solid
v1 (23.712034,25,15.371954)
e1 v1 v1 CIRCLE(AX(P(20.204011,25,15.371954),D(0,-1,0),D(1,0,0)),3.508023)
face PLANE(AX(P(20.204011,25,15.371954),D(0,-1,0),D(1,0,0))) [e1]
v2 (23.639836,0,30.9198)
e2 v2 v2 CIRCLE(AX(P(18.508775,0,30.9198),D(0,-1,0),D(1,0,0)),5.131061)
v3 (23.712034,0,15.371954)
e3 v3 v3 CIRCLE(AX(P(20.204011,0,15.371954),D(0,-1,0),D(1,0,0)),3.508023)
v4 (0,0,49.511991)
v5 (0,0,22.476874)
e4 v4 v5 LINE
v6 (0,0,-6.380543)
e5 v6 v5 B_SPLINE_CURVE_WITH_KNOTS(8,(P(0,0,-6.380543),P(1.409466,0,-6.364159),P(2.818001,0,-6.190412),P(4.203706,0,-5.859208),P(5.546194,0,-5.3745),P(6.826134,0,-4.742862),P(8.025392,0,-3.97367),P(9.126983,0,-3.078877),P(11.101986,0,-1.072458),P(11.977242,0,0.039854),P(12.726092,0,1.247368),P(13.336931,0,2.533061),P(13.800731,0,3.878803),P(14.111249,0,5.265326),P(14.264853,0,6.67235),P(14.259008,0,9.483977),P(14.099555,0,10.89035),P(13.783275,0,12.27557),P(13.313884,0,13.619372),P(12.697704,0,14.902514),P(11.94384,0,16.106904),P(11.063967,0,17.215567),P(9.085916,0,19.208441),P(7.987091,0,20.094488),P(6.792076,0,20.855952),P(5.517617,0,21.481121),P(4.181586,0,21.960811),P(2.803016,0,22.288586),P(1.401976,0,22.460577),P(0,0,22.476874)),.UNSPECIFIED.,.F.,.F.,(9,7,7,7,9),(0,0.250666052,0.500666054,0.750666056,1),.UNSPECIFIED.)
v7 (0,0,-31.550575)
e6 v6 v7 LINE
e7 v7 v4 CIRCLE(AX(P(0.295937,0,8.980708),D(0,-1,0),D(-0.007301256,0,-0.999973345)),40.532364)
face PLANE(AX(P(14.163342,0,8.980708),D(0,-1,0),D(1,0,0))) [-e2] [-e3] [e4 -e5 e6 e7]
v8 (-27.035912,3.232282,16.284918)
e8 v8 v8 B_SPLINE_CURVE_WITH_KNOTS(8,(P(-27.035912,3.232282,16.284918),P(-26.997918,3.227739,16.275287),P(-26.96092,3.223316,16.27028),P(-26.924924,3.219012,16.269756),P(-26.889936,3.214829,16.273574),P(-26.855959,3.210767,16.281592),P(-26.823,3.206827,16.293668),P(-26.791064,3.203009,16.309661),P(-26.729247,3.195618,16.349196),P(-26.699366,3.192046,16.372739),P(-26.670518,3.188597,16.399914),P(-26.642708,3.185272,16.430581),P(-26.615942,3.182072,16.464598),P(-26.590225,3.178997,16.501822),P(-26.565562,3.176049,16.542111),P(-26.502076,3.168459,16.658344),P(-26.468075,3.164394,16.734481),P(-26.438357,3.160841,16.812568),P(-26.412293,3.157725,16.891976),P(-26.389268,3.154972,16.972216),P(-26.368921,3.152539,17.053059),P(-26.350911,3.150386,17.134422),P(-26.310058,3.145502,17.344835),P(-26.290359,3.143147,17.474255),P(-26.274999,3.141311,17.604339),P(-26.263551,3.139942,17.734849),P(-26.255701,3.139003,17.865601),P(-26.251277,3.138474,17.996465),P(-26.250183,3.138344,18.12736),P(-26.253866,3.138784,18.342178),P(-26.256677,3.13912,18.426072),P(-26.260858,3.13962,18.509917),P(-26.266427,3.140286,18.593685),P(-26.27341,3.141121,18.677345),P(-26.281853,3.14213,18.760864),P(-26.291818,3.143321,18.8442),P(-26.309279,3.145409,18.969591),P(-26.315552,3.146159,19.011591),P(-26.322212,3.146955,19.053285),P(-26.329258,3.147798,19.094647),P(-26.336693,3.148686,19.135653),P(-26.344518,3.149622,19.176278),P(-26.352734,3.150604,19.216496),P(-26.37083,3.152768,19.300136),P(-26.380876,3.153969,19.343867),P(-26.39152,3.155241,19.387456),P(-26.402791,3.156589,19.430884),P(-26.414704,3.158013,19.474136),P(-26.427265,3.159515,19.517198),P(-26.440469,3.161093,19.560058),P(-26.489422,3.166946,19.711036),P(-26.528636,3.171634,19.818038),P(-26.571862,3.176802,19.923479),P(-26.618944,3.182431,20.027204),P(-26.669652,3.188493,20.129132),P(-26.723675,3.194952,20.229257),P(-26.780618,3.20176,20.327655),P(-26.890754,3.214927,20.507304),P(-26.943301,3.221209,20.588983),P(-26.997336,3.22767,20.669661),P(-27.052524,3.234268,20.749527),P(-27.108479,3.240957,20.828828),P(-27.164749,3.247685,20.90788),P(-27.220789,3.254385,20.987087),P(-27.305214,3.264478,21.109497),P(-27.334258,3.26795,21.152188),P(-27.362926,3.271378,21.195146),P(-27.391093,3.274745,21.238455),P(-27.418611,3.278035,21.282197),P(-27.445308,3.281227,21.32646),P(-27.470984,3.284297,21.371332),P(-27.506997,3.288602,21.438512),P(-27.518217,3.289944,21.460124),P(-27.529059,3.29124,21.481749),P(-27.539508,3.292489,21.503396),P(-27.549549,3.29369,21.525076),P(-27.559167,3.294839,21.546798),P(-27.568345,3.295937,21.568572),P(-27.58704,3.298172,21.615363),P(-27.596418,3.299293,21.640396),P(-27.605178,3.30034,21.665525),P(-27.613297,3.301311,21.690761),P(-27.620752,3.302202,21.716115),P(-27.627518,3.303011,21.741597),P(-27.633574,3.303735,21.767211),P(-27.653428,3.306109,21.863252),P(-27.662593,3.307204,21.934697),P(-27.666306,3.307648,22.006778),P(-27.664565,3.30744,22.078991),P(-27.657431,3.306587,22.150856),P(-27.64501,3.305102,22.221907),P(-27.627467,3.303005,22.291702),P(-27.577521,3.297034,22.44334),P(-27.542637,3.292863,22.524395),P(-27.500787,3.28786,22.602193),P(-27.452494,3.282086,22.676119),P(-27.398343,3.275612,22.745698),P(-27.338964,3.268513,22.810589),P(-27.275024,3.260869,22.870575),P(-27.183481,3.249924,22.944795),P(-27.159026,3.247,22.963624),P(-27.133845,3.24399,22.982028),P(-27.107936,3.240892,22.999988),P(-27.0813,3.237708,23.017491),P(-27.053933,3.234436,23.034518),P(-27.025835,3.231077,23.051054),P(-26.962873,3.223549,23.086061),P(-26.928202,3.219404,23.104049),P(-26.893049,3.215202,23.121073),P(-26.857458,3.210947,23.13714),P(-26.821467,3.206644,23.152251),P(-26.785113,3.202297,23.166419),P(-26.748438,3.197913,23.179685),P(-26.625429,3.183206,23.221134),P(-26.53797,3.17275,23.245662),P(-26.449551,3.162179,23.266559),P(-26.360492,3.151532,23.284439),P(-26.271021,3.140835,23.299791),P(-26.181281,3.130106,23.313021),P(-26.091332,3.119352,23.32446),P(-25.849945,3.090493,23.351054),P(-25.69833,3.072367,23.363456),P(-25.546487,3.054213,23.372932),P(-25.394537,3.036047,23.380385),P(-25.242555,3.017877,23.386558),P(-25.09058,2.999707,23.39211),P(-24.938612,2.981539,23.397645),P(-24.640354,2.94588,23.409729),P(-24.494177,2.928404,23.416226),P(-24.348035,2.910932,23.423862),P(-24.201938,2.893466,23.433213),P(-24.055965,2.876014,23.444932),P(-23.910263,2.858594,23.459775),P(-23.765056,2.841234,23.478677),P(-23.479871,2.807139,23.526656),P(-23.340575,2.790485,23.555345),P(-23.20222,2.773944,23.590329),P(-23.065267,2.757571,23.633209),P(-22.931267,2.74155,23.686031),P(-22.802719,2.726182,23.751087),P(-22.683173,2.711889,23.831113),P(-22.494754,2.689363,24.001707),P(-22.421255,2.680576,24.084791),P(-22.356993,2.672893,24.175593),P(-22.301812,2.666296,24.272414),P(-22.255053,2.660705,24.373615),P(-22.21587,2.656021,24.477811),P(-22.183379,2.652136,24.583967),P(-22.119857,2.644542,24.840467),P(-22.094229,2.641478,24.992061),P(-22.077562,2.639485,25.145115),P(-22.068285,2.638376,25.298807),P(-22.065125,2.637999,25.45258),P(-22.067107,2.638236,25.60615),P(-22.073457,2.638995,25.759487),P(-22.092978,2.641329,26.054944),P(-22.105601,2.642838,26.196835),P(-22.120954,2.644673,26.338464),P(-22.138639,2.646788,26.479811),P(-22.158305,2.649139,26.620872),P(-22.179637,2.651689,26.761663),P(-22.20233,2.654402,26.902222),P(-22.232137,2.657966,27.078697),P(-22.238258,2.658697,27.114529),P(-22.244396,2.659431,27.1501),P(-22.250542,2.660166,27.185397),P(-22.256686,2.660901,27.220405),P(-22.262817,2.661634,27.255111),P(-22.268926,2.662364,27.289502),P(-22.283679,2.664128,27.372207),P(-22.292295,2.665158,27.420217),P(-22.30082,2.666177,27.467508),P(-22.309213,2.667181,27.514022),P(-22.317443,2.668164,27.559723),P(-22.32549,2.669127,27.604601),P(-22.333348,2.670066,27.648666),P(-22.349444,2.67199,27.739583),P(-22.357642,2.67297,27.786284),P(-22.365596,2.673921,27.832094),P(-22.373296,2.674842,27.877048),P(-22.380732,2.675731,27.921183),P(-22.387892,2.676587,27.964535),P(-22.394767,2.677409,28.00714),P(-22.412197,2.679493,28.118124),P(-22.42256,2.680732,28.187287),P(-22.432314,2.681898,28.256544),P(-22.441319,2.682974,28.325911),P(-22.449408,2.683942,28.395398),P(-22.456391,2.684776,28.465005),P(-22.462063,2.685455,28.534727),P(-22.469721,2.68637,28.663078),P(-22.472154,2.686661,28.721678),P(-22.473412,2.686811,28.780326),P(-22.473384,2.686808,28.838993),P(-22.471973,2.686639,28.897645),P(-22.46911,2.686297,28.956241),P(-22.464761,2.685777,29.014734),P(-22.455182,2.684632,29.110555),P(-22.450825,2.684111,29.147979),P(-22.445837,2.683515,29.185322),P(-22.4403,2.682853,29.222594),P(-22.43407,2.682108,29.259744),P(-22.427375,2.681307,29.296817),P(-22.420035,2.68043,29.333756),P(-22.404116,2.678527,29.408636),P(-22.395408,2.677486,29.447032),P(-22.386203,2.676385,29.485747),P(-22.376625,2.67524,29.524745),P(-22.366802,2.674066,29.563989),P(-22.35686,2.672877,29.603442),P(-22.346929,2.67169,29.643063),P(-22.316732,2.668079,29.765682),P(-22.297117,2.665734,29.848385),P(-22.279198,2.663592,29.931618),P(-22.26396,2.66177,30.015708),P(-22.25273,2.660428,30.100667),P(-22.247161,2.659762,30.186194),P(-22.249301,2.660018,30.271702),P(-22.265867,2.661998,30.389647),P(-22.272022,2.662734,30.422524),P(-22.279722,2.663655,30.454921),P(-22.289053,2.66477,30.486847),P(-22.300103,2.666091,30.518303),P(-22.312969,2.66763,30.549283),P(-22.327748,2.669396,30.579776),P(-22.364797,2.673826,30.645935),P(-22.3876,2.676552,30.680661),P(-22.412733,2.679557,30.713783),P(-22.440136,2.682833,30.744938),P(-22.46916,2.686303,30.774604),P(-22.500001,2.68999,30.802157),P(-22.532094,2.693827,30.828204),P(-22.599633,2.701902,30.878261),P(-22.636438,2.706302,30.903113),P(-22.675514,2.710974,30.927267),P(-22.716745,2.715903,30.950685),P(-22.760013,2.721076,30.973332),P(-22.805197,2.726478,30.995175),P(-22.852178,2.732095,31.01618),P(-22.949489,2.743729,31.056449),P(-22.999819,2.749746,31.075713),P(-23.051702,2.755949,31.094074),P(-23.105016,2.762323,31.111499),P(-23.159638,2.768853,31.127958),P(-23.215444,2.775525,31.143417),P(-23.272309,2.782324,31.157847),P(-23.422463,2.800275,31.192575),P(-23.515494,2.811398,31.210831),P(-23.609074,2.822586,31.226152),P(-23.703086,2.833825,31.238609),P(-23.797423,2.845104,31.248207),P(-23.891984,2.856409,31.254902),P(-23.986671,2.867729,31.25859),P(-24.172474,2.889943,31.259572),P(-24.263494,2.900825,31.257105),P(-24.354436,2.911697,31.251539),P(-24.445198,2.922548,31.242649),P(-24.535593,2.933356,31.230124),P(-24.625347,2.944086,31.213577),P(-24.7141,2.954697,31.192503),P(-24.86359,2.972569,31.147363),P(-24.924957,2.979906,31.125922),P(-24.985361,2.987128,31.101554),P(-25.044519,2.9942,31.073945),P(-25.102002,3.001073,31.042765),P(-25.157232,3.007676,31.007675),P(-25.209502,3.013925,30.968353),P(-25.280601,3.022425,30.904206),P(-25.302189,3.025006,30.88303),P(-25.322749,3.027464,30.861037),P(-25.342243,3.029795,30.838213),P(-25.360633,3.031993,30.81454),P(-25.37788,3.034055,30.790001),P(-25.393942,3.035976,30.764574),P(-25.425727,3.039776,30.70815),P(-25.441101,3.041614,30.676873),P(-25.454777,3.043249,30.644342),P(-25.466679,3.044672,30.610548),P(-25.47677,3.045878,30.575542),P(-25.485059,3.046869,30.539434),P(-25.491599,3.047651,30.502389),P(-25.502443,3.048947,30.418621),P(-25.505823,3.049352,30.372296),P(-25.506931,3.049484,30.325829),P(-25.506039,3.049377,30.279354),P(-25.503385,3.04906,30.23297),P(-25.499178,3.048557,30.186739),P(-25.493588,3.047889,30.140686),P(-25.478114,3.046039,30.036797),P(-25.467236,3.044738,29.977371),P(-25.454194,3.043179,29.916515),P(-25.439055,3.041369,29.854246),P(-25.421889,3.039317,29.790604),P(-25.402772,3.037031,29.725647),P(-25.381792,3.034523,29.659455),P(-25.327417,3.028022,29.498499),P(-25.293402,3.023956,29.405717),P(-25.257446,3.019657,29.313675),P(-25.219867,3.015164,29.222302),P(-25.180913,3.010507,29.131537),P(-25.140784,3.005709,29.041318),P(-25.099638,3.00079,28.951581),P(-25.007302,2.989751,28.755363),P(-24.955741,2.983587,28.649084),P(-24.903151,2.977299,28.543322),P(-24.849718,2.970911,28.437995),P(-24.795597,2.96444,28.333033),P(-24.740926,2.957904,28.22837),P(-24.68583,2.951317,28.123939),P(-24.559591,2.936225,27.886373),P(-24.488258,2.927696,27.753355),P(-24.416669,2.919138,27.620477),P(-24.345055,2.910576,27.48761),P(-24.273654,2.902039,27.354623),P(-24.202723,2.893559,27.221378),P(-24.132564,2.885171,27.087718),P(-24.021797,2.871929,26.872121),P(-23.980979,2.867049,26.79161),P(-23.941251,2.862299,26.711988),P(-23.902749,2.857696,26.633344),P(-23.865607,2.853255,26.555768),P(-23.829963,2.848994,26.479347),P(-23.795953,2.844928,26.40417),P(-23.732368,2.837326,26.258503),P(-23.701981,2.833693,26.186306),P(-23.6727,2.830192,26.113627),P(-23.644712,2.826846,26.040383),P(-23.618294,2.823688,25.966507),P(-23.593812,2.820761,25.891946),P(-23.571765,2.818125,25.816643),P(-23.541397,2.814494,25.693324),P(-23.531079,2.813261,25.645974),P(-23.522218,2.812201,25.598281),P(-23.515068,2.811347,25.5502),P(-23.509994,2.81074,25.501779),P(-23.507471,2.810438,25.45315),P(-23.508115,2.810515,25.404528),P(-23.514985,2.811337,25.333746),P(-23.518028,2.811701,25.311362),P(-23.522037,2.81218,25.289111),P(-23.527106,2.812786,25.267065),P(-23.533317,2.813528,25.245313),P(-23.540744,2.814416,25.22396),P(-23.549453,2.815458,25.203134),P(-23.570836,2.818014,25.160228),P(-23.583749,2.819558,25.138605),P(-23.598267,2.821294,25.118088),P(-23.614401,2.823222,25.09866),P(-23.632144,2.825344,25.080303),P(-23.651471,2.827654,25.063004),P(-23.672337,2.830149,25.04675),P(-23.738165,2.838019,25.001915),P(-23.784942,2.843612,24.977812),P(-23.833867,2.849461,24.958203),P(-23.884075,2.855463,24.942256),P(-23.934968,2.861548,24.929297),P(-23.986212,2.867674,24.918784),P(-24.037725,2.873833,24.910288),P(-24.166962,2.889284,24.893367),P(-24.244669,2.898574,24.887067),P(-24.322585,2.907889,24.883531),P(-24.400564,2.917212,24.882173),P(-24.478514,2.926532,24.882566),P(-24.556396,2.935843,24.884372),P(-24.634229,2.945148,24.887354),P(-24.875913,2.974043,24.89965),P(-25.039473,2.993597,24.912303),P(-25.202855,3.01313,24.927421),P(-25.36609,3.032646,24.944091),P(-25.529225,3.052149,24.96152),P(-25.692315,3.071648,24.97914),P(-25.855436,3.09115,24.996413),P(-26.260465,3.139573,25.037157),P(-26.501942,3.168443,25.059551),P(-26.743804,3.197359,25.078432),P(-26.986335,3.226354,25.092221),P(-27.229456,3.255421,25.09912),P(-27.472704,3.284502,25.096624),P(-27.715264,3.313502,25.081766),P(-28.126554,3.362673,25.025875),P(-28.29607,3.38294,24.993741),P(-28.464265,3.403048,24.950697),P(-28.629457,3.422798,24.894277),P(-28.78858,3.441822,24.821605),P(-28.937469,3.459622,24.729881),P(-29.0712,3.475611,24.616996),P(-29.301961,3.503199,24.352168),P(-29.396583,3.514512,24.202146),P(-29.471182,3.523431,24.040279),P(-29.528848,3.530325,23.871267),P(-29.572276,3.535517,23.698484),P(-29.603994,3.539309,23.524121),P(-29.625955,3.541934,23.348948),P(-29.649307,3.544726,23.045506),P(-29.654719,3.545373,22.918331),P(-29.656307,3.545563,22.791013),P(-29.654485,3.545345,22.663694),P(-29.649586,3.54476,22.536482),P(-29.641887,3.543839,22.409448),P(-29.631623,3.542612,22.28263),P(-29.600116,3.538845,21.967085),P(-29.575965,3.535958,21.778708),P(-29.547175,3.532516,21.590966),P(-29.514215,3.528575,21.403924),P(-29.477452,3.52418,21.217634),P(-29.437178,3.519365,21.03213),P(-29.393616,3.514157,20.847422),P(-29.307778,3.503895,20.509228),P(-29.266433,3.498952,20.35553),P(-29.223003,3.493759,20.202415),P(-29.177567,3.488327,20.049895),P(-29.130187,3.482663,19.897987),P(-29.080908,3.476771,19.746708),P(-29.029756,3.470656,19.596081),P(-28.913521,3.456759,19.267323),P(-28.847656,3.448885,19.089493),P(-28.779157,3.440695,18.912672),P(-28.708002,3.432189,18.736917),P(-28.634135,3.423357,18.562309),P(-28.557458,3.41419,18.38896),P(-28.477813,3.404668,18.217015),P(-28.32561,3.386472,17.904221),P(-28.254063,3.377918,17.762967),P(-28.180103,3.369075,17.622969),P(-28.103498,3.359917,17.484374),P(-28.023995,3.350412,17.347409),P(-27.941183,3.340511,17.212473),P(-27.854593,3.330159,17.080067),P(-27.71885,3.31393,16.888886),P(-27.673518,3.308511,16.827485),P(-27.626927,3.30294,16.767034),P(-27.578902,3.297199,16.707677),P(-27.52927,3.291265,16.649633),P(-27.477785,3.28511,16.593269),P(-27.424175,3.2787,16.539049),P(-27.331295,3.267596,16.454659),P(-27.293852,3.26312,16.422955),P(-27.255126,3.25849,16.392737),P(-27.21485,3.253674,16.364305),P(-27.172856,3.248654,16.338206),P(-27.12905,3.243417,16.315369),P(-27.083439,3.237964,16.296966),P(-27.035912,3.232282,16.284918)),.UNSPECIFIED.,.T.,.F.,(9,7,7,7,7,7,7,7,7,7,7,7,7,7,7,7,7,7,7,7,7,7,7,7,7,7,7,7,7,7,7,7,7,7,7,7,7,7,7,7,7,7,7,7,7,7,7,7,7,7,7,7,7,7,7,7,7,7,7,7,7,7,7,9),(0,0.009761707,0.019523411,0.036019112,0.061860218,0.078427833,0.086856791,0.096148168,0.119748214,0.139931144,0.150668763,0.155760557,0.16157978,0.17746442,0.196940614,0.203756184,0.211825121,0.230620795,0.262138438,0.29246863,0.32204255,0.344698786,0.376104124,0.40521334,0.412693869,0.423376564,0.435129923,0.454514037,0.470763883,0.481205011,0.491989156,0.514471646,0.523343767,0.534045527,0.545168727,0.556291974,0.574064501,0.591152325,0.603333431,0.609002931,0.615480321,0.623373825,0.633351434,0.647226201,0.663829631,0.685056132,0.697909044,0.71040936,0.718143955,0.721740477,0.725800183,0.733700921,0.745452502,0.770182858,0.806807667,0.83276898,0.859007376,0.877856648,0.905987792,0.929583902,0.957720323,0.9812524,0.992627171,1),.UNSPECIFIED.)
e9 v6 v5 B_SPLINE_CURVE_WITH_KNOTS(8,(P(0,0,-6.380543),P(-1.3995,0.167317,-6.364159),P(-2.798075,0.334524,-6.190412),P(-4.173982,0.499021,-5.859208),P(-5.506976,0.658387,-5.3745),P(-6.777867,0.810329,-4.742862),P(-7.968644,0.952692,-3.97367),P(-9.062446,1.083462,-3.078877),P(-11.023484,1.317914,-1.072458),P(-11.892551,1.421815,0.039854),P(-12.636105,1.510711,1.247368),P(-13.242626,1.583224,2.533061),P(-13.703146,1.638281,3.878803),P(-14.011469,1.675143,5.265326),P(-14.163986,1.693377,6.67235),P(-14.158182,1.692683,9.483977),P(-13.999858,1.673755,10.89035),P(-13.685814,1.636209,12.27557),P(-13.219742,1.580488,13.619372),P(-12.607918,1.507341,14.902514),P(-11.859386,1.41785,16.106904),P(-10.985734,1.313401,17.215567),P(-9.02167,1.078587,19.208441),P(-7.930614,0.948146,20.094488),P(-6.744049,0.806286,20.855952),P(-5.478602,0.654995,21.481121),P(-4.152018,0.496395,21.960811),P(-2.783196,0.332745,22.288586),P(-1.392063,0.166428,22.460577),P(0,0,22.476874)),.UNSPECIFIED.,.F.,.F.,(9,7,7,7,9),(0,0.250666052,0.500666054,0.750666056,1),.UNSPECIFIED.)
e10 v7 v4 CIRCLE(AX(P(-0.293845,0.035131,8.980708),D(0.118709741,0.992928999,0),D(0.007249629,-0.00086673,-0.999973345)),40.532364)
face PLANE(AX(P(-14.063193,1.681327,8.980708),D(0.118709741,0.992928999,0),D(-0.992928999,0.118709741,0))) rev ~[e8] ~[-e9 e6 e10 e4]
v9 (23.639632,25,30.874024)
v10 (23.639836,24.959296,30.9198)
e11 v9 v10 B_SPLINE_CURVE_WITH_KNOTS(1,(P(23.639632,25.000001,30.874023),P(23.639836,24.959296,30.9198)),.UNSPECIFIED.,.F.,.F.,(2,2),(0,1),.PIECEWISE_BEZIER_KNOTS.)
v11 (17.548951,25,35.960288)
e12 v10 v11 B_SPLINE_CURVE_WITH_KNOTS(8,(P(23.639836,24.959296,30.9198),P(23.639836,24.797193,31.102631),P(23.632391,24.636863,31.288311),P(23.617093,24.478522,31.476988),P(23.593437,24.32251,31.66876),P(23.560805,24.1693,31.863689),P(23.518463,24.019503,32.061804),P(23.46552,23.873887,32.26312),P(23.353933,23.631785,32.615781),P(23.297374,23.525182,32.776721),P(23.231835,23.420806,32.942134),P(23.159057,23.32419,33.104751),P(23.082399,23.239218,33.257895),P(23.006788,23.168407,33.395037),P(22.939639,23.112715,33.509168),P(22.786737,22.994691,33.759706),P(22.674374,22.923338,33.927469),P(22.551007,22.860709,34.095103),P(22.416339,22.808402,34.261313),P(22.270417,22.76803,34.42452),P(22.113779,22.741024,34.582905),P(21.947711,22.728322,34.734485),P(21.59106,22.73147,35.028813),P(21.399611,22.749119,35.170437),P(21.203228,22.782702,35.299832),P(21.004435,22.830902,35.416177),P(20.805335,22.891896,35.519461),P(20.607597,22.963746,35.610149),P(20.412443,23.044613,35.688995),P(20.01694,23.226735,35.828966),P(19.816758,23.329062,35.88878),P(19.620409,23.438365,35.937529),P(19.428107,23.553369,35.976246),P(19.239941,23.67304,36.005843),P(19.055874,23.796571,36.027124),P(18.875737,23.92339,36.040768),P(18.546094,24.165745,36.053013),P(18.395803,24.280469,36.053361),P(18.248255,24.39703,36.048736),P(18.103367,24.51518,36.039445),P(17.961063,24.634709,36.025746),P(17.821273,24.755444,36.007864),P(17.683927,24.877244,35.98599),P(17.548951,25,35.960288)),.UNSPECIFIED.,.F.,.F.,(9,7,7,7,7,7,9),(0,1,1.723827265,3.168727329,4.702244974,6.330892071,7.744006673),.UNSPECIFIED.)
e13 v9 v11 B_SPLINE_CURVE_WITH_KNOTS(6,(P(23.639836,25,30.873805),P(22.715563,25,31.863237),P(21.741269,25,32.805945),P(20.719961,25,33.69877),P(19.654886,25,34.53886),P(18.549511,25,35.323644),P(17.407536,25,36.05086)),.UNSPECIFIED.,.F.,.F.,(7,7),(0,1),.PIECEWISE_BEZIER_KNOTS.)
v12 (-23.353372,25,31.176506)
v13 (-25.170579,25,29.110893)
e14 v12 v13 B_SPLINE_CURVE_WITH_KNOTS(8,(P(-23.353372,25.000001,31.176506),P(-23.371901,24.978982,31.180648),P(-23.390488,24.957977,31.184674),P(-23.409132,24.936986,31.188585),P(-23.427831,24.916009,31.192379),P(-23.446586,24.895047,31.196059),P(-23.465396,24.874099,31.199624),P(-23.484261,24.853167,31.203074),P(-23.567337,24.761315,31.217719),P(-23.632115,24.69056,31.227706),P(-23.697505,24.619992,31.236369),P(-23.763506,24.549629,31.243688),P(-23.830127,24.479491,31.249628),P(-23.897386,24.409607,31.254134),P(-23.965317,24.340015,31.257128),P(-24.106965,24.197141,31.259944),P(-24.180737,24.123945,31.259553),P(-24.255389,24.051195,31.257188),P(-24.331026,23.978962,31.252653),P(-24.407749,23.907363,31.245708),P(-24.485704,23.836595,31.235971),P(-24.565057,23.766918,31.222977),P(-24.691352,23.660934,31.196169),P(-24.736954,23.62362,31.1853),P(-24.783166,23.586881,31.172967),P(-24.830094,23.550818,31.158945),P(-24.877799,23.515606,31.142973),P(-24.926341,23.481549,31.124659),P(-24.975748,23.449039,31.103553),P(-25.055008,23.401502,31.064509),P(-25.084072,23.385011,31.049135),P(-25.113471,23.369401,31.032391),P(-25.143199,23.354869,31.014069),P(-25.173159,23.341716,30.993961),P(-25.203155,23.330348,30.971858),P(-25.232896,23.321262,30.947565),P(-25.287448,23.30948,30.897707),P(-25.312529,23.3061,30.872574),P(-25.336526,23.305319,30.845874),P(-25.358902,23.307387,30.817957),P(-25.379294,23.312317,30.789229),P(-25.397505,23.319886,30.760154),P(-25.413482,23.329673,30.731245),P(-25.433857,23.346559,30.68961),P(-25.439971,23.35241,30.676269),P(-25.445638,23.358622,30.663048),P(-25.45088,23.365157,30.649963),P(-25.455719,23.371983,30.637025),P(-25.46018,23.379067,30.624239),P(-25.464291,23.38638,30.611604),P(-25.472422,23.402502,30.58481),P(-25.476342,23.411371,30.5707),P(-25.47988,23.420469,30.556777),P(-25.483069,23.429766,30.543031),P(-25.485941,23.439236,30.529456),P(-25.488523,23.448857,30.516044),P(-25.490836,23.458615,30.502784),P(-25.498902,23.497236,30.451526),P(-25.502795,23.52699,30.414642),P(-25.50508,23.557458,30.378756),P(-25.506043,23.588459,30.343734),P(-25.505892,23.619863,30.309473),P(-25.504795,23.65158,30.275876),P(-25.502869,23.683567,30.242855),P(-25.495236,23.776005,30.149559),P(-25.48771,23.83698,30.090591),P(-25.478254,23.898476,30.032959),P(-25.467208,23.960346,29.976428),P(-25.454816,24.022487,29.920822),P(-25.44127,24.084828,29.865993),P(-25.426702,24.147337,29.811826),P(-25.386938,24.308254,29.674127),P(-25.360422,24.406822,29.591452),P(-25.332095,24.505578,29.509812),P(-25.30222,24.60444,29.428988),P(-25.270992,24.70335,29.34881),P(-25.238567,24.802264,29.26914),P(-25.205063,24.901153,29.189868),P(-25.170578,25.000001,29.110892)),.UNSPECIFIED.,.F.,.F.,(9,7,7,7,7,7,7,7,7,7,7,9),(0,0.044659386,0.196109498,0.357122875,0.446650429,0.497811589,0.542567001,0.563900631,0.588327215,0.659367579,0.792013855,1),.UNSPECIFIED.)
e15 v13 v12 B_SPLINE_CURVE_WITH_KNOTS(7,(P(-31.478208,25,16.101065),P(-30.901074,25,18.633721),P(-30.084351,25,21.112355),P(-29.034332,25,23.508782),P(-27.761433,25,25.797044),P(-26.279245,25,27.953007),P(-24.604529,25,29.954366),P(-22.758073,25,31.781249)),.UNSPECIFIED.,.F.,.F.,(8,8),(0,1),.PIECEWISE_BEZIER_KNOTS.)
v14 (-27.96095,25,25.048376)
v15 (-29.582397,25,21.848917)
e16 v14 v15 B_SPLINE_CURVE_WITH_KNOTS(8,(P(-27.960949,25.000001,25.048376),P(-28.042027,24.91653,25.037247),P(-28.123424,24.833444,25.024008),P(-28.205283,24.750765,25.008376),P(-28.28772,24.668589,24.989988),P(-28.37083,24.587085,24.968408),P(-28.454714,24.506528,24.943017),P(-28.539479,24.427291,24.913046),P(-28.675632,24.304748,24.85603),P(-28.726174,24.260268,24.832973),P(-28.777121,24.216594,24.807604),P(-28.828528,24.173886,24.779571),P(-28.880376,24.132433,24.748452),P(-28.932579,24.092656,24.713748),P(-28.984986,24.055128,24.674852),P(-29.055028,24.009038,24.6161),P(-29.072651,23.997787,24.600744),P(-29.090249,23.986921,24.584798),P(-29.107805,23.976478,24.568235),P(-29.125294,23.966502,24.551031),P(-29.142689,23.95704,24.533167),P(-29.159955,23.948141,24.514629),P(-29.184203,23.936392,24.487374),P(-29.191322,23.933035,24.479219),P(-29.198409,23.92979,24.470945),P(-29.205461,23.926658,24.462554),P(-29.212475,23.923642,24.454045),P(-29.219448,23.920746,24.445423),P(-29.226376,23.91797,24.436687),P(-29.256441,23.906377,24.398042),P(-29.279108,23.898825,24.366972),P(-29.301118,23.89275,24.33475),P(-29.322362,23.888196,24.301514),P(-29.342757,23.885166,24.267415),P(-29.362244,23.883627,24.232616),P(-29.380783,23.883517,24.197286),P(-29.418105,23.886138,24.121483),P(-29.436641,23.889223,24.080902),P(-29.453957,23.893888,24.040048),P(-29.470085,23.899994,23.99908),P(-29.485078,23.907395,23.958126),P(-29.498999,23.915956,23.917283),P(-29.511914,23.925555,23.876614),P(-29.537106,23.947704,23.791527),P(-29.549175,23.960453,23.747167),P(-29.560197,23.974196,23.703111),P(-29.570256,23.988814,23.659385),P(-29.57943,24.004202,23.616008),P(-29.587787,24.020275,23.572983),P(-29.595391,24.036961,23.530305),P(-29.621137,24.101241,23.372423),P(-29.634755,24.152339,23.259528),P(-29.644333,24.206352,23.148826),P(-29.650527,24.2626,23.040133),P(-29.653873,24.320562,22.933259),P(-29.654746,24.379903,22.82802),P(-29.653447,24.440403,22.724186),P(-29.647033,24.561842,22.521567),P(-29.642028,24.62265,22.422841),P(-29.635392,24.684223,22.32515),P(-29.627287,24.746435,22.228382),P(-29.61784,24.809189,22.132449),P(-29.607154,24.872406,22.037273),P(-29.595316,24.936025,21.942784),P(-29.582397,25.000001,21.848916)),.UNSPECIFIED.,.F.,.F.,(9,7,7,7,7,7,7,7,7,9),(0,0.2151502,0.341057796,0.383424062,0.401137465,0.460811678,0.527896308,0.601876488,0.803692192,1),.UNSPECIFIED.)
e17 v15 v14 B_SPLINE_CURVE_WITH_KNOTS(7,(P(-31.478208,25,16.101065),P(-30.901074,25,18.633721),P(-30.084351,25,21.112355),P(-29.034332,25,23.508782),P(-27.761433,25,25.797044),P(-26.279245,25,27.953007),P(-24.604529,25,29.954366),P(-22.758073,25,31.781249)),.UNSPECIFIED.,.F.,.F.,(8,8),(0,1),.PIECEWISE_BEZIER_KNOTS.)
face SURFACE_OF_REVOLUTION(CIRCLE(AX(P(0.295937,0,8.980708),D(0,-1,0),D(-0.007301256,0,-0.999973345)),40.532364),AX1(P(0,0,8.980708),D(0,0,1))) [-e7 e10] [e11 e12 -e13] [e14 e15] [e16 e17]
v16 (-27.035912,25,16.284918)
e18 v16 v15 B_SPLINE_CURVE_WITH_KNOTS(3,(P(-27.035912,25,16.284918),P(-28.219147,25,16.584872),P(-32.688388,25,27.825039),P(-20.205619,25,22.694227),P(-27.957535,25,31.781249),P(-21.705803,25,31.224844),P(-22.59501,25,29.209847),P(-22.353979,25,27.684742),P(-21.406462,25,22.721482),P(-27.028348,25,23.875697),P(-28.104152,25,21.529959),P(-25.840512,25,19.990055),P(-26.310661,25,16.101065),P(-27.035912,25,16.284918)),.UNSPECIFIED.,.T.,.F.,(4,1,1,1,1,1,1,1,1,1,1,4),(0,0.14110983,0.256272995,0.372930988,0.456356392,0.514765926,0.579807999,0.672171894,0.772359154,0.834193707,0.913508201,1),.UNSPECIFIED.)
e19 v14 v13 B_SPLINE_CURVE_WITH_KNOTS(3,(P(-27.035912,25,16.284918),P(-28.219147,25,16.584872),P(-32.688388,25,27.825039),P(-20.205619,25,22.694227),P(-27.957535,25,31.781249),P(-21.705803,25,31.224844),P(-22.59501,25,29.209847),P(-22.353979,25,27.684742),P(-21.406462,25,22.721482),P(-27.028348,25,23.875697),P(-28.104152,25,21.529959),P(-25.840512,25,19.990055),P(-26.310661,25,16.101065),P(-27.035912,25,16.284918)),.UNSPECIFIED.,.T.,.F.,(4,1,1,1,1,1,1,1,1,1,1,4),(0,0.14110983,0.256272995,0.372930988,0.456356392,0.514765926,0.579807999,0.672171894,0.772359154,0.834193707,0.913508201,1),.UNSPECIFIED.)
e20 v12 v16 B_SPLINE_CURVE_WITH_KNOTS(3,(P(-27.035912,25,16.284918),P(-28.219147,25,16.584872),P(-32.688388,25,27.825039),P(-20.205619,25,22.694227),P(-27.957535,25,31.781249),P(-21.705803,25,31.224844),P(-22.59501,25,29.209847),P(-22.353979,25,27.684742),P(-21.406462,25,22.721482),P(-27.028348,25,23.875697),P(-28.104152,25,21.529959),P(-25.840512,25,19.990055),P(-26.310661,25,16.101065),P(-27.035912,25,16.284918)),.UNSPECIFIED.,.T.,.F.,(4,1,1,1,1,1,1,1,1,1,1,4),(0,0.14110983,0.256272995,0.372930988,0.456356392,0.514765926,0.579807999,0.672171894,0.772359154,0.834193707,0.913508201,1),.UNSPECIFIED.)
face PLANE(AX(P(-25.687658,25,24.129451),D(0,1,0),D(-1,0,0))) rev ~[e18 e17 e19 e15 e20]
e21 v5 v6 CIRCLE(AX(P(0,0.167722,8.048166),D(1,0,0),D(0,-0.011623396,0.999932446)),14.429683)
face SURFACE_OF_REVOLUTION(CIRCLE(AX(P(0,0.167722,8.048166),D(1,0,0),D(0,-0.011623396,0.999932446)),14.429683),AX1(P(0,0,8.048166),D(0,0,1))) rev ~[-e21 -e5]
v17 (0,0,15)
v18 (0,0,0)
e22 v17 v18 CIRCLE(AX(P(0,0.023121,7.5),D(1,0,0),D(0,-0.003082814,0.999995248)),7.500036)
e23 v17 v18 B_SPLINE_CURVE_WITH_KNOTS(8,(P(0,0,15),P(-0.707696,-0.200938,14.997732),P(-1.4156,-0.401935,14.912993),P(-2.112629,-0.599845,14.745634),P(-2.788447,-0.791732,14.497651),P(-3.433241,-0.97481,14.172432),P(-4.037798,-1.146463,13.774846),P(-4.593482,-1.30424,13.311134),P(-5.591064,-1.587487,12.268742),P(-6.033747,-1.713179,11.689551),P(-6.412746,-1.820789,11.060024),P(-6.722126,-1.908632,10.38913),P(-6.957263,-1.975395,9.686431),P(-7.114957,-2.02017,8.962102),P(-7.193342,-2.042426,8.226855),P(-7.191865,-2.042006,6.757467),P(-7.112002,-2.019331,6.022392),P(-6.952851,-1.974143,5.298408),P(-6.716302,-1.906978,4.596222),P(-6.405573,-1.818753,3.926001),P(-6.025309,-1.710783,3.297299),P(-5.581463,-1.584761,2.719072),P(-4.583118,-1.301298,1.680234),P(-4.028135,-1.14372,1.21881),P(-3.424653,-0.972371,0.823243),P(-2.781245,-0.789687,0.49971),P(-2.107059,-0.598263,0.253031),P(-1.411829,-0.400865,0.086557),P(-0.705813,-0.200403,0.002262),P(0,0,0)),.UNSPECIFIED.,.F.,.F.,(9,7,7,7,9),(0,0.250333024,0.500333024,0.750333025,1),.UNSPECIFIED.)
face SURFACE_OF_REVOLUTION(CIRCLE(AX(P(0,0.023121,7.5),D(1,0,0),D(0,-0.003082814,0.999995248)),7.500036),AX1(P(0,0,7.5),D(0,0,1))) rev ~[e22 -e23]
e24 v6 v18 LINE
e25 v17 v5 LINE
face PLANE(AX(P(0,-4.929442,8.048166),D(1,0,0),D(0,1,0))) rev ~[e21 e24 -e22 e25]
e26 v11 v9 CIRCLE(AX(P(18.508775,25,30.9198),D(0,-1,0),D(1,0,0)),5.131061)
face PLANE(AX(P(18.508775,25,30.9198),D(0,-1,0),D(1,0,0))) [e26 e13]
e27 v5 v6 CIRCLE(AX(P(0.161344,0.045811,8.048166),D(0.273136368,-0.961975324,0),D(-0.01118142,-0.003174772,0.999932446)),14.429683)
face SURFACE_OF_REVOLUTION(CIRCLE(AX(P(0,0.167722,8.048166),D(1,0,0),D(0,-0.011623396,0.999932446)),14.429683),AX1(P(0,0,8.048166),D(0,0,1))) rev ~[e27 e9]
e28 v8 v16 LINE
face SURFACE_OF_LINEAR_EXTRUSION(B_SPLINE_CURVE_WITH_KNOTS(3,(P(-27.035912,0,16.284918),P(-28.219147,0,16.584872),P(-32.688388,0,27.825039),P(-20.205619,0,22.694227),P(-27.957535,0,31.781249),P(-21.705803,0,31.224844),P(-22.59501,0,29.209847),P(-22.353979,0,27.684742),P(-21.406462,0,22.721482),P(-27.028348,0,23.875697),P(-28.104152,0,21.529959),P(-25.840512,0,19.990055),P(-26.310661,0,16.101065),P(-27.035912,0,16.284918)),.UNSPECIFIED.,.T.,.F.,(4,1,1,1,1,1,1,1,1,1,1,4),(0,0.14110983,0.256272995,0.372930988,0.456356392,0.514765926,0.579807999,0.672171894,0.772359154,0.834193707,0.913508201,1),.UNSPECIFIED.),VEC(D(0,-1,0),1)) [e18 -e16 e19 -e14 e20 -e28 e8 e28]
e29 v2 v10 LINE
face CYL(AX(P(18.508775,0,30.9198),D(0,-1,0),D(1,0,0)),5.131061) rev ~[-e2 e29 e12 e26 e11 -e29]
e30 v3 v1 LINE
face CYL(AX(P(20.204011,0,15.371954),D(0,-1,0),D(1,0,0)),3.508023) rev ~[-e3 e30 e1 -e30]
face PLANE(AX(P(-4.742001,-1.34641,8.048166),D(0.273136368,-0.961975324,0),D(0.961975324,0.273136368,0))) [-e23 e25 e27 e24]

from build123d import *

# Parameters (mm, degrees)
F3_ANGLE  = 285.8509846146
F5_ANGLE  = 173.1823560663
F8_R      = 3.5080227588
F9_DEPTH  = 25
F10_DEPTH = 25
F11_R     = 5.1310607716
F12_DEPTH = 25


with BuildPart() as f1:
    # F0 (on Right) → F1 (revolve)
    with BuildSketch(Plane.YZ):
        with BuildLine():
            ThreePointArc((0, 15), (-7.4769144275, 7.5), (0, 0))
            Line((0, 0), (0, 15))
        make_face()
    revolve(axis=Axis((0, 0, 7.5), (0, 0, 1)))

    # F2 (on Right) → F3 (revolve)
    with BuildSketch(Plane.YZ):
        with BuildLine():
            ThreePointArc((0, 22.4768742919), (-14.2619615597, 8.0481655896), (0, -6.3805431128))
            Line((0, -6.3805431128), (0, 22.4768742919))
        make_face()
    revolve(axis=Axis((0, 0, 8.0481655896), (0, 0, 1)), revolution_arc=F3_ANGLE)

    # F4 (on Front) → F5 (revolve)
    with BuildSketch(Plane.XZ):
        with BuildLine():
            ThreePointArc((0, -31.5505750477), (40.8283007824, 8.9807081968), (0, 49.5119914412))
            Line((0, 49.5119914412), (0, -31.5505750477))
        make_face()
    revolve(axis=Axis((0, 0, 8.9807081968), (0, 0, 1)), revolution_arc=F5_ANGLE)

    # F8 (on Front) → F9 (cut)
    with BuildSketch(Plane.XZ):
        with Locations((20.2040113509, 15.3719540685)):
            Circle(F8_R)
    extrude(amount=-F9_DEPTH, mode=Mode.SUBTRACT)

    # F6 (on Front) → F10 (cut)
    with BuildSketch(Plane.XZ):
        with BuildLine():
            add(Edge.make_bspline(
                [(-27.0359124988, 16.2849184126), (-28.2191466397, 16.5848723112), (-32.6883882667, 27.8250394513), (-20.205618733, 22.6942270088), (-27.9575345496, 31.7812492765), (-21.7058034739, 31.2248440275), (-22.5950102656, 29.2098468564), (-22.3539786392, 27.684742381), (-21.4064617134, 22.7214822929), (-27.0283481925, 23.8756971027), (-28.1041523858, 21.5299593514), (-25.8405117567, 19.9900550008), (-26.3106614659, 16.101064797), (-27.0359124988, 16.2849184126)],
                knots=[0, 0, 0, 0, 0.1411098295, 0.2562729955, 0.3729309882, 0.4563563924, 0.5147659262, 0.579807999, 0.6721718941, 0.7723591543, 0.8341937072, 0.9135082009, 1, 1, 1, 1], degree=3))
        make_face()
    extrude(amount=-F10_DEPTH, mode=Mode.SUBTRACT)

    # F11 (on Front) → F12 (cut)
    with BuildSketch(Plane.XZ):
        with Locations((18.5087751597, 30.9197995812)):
            Circle(F11_R)
    extrude(amount=-F12_DEPTH, mode=Mode.SUBTRACT)


solid = f1.part
